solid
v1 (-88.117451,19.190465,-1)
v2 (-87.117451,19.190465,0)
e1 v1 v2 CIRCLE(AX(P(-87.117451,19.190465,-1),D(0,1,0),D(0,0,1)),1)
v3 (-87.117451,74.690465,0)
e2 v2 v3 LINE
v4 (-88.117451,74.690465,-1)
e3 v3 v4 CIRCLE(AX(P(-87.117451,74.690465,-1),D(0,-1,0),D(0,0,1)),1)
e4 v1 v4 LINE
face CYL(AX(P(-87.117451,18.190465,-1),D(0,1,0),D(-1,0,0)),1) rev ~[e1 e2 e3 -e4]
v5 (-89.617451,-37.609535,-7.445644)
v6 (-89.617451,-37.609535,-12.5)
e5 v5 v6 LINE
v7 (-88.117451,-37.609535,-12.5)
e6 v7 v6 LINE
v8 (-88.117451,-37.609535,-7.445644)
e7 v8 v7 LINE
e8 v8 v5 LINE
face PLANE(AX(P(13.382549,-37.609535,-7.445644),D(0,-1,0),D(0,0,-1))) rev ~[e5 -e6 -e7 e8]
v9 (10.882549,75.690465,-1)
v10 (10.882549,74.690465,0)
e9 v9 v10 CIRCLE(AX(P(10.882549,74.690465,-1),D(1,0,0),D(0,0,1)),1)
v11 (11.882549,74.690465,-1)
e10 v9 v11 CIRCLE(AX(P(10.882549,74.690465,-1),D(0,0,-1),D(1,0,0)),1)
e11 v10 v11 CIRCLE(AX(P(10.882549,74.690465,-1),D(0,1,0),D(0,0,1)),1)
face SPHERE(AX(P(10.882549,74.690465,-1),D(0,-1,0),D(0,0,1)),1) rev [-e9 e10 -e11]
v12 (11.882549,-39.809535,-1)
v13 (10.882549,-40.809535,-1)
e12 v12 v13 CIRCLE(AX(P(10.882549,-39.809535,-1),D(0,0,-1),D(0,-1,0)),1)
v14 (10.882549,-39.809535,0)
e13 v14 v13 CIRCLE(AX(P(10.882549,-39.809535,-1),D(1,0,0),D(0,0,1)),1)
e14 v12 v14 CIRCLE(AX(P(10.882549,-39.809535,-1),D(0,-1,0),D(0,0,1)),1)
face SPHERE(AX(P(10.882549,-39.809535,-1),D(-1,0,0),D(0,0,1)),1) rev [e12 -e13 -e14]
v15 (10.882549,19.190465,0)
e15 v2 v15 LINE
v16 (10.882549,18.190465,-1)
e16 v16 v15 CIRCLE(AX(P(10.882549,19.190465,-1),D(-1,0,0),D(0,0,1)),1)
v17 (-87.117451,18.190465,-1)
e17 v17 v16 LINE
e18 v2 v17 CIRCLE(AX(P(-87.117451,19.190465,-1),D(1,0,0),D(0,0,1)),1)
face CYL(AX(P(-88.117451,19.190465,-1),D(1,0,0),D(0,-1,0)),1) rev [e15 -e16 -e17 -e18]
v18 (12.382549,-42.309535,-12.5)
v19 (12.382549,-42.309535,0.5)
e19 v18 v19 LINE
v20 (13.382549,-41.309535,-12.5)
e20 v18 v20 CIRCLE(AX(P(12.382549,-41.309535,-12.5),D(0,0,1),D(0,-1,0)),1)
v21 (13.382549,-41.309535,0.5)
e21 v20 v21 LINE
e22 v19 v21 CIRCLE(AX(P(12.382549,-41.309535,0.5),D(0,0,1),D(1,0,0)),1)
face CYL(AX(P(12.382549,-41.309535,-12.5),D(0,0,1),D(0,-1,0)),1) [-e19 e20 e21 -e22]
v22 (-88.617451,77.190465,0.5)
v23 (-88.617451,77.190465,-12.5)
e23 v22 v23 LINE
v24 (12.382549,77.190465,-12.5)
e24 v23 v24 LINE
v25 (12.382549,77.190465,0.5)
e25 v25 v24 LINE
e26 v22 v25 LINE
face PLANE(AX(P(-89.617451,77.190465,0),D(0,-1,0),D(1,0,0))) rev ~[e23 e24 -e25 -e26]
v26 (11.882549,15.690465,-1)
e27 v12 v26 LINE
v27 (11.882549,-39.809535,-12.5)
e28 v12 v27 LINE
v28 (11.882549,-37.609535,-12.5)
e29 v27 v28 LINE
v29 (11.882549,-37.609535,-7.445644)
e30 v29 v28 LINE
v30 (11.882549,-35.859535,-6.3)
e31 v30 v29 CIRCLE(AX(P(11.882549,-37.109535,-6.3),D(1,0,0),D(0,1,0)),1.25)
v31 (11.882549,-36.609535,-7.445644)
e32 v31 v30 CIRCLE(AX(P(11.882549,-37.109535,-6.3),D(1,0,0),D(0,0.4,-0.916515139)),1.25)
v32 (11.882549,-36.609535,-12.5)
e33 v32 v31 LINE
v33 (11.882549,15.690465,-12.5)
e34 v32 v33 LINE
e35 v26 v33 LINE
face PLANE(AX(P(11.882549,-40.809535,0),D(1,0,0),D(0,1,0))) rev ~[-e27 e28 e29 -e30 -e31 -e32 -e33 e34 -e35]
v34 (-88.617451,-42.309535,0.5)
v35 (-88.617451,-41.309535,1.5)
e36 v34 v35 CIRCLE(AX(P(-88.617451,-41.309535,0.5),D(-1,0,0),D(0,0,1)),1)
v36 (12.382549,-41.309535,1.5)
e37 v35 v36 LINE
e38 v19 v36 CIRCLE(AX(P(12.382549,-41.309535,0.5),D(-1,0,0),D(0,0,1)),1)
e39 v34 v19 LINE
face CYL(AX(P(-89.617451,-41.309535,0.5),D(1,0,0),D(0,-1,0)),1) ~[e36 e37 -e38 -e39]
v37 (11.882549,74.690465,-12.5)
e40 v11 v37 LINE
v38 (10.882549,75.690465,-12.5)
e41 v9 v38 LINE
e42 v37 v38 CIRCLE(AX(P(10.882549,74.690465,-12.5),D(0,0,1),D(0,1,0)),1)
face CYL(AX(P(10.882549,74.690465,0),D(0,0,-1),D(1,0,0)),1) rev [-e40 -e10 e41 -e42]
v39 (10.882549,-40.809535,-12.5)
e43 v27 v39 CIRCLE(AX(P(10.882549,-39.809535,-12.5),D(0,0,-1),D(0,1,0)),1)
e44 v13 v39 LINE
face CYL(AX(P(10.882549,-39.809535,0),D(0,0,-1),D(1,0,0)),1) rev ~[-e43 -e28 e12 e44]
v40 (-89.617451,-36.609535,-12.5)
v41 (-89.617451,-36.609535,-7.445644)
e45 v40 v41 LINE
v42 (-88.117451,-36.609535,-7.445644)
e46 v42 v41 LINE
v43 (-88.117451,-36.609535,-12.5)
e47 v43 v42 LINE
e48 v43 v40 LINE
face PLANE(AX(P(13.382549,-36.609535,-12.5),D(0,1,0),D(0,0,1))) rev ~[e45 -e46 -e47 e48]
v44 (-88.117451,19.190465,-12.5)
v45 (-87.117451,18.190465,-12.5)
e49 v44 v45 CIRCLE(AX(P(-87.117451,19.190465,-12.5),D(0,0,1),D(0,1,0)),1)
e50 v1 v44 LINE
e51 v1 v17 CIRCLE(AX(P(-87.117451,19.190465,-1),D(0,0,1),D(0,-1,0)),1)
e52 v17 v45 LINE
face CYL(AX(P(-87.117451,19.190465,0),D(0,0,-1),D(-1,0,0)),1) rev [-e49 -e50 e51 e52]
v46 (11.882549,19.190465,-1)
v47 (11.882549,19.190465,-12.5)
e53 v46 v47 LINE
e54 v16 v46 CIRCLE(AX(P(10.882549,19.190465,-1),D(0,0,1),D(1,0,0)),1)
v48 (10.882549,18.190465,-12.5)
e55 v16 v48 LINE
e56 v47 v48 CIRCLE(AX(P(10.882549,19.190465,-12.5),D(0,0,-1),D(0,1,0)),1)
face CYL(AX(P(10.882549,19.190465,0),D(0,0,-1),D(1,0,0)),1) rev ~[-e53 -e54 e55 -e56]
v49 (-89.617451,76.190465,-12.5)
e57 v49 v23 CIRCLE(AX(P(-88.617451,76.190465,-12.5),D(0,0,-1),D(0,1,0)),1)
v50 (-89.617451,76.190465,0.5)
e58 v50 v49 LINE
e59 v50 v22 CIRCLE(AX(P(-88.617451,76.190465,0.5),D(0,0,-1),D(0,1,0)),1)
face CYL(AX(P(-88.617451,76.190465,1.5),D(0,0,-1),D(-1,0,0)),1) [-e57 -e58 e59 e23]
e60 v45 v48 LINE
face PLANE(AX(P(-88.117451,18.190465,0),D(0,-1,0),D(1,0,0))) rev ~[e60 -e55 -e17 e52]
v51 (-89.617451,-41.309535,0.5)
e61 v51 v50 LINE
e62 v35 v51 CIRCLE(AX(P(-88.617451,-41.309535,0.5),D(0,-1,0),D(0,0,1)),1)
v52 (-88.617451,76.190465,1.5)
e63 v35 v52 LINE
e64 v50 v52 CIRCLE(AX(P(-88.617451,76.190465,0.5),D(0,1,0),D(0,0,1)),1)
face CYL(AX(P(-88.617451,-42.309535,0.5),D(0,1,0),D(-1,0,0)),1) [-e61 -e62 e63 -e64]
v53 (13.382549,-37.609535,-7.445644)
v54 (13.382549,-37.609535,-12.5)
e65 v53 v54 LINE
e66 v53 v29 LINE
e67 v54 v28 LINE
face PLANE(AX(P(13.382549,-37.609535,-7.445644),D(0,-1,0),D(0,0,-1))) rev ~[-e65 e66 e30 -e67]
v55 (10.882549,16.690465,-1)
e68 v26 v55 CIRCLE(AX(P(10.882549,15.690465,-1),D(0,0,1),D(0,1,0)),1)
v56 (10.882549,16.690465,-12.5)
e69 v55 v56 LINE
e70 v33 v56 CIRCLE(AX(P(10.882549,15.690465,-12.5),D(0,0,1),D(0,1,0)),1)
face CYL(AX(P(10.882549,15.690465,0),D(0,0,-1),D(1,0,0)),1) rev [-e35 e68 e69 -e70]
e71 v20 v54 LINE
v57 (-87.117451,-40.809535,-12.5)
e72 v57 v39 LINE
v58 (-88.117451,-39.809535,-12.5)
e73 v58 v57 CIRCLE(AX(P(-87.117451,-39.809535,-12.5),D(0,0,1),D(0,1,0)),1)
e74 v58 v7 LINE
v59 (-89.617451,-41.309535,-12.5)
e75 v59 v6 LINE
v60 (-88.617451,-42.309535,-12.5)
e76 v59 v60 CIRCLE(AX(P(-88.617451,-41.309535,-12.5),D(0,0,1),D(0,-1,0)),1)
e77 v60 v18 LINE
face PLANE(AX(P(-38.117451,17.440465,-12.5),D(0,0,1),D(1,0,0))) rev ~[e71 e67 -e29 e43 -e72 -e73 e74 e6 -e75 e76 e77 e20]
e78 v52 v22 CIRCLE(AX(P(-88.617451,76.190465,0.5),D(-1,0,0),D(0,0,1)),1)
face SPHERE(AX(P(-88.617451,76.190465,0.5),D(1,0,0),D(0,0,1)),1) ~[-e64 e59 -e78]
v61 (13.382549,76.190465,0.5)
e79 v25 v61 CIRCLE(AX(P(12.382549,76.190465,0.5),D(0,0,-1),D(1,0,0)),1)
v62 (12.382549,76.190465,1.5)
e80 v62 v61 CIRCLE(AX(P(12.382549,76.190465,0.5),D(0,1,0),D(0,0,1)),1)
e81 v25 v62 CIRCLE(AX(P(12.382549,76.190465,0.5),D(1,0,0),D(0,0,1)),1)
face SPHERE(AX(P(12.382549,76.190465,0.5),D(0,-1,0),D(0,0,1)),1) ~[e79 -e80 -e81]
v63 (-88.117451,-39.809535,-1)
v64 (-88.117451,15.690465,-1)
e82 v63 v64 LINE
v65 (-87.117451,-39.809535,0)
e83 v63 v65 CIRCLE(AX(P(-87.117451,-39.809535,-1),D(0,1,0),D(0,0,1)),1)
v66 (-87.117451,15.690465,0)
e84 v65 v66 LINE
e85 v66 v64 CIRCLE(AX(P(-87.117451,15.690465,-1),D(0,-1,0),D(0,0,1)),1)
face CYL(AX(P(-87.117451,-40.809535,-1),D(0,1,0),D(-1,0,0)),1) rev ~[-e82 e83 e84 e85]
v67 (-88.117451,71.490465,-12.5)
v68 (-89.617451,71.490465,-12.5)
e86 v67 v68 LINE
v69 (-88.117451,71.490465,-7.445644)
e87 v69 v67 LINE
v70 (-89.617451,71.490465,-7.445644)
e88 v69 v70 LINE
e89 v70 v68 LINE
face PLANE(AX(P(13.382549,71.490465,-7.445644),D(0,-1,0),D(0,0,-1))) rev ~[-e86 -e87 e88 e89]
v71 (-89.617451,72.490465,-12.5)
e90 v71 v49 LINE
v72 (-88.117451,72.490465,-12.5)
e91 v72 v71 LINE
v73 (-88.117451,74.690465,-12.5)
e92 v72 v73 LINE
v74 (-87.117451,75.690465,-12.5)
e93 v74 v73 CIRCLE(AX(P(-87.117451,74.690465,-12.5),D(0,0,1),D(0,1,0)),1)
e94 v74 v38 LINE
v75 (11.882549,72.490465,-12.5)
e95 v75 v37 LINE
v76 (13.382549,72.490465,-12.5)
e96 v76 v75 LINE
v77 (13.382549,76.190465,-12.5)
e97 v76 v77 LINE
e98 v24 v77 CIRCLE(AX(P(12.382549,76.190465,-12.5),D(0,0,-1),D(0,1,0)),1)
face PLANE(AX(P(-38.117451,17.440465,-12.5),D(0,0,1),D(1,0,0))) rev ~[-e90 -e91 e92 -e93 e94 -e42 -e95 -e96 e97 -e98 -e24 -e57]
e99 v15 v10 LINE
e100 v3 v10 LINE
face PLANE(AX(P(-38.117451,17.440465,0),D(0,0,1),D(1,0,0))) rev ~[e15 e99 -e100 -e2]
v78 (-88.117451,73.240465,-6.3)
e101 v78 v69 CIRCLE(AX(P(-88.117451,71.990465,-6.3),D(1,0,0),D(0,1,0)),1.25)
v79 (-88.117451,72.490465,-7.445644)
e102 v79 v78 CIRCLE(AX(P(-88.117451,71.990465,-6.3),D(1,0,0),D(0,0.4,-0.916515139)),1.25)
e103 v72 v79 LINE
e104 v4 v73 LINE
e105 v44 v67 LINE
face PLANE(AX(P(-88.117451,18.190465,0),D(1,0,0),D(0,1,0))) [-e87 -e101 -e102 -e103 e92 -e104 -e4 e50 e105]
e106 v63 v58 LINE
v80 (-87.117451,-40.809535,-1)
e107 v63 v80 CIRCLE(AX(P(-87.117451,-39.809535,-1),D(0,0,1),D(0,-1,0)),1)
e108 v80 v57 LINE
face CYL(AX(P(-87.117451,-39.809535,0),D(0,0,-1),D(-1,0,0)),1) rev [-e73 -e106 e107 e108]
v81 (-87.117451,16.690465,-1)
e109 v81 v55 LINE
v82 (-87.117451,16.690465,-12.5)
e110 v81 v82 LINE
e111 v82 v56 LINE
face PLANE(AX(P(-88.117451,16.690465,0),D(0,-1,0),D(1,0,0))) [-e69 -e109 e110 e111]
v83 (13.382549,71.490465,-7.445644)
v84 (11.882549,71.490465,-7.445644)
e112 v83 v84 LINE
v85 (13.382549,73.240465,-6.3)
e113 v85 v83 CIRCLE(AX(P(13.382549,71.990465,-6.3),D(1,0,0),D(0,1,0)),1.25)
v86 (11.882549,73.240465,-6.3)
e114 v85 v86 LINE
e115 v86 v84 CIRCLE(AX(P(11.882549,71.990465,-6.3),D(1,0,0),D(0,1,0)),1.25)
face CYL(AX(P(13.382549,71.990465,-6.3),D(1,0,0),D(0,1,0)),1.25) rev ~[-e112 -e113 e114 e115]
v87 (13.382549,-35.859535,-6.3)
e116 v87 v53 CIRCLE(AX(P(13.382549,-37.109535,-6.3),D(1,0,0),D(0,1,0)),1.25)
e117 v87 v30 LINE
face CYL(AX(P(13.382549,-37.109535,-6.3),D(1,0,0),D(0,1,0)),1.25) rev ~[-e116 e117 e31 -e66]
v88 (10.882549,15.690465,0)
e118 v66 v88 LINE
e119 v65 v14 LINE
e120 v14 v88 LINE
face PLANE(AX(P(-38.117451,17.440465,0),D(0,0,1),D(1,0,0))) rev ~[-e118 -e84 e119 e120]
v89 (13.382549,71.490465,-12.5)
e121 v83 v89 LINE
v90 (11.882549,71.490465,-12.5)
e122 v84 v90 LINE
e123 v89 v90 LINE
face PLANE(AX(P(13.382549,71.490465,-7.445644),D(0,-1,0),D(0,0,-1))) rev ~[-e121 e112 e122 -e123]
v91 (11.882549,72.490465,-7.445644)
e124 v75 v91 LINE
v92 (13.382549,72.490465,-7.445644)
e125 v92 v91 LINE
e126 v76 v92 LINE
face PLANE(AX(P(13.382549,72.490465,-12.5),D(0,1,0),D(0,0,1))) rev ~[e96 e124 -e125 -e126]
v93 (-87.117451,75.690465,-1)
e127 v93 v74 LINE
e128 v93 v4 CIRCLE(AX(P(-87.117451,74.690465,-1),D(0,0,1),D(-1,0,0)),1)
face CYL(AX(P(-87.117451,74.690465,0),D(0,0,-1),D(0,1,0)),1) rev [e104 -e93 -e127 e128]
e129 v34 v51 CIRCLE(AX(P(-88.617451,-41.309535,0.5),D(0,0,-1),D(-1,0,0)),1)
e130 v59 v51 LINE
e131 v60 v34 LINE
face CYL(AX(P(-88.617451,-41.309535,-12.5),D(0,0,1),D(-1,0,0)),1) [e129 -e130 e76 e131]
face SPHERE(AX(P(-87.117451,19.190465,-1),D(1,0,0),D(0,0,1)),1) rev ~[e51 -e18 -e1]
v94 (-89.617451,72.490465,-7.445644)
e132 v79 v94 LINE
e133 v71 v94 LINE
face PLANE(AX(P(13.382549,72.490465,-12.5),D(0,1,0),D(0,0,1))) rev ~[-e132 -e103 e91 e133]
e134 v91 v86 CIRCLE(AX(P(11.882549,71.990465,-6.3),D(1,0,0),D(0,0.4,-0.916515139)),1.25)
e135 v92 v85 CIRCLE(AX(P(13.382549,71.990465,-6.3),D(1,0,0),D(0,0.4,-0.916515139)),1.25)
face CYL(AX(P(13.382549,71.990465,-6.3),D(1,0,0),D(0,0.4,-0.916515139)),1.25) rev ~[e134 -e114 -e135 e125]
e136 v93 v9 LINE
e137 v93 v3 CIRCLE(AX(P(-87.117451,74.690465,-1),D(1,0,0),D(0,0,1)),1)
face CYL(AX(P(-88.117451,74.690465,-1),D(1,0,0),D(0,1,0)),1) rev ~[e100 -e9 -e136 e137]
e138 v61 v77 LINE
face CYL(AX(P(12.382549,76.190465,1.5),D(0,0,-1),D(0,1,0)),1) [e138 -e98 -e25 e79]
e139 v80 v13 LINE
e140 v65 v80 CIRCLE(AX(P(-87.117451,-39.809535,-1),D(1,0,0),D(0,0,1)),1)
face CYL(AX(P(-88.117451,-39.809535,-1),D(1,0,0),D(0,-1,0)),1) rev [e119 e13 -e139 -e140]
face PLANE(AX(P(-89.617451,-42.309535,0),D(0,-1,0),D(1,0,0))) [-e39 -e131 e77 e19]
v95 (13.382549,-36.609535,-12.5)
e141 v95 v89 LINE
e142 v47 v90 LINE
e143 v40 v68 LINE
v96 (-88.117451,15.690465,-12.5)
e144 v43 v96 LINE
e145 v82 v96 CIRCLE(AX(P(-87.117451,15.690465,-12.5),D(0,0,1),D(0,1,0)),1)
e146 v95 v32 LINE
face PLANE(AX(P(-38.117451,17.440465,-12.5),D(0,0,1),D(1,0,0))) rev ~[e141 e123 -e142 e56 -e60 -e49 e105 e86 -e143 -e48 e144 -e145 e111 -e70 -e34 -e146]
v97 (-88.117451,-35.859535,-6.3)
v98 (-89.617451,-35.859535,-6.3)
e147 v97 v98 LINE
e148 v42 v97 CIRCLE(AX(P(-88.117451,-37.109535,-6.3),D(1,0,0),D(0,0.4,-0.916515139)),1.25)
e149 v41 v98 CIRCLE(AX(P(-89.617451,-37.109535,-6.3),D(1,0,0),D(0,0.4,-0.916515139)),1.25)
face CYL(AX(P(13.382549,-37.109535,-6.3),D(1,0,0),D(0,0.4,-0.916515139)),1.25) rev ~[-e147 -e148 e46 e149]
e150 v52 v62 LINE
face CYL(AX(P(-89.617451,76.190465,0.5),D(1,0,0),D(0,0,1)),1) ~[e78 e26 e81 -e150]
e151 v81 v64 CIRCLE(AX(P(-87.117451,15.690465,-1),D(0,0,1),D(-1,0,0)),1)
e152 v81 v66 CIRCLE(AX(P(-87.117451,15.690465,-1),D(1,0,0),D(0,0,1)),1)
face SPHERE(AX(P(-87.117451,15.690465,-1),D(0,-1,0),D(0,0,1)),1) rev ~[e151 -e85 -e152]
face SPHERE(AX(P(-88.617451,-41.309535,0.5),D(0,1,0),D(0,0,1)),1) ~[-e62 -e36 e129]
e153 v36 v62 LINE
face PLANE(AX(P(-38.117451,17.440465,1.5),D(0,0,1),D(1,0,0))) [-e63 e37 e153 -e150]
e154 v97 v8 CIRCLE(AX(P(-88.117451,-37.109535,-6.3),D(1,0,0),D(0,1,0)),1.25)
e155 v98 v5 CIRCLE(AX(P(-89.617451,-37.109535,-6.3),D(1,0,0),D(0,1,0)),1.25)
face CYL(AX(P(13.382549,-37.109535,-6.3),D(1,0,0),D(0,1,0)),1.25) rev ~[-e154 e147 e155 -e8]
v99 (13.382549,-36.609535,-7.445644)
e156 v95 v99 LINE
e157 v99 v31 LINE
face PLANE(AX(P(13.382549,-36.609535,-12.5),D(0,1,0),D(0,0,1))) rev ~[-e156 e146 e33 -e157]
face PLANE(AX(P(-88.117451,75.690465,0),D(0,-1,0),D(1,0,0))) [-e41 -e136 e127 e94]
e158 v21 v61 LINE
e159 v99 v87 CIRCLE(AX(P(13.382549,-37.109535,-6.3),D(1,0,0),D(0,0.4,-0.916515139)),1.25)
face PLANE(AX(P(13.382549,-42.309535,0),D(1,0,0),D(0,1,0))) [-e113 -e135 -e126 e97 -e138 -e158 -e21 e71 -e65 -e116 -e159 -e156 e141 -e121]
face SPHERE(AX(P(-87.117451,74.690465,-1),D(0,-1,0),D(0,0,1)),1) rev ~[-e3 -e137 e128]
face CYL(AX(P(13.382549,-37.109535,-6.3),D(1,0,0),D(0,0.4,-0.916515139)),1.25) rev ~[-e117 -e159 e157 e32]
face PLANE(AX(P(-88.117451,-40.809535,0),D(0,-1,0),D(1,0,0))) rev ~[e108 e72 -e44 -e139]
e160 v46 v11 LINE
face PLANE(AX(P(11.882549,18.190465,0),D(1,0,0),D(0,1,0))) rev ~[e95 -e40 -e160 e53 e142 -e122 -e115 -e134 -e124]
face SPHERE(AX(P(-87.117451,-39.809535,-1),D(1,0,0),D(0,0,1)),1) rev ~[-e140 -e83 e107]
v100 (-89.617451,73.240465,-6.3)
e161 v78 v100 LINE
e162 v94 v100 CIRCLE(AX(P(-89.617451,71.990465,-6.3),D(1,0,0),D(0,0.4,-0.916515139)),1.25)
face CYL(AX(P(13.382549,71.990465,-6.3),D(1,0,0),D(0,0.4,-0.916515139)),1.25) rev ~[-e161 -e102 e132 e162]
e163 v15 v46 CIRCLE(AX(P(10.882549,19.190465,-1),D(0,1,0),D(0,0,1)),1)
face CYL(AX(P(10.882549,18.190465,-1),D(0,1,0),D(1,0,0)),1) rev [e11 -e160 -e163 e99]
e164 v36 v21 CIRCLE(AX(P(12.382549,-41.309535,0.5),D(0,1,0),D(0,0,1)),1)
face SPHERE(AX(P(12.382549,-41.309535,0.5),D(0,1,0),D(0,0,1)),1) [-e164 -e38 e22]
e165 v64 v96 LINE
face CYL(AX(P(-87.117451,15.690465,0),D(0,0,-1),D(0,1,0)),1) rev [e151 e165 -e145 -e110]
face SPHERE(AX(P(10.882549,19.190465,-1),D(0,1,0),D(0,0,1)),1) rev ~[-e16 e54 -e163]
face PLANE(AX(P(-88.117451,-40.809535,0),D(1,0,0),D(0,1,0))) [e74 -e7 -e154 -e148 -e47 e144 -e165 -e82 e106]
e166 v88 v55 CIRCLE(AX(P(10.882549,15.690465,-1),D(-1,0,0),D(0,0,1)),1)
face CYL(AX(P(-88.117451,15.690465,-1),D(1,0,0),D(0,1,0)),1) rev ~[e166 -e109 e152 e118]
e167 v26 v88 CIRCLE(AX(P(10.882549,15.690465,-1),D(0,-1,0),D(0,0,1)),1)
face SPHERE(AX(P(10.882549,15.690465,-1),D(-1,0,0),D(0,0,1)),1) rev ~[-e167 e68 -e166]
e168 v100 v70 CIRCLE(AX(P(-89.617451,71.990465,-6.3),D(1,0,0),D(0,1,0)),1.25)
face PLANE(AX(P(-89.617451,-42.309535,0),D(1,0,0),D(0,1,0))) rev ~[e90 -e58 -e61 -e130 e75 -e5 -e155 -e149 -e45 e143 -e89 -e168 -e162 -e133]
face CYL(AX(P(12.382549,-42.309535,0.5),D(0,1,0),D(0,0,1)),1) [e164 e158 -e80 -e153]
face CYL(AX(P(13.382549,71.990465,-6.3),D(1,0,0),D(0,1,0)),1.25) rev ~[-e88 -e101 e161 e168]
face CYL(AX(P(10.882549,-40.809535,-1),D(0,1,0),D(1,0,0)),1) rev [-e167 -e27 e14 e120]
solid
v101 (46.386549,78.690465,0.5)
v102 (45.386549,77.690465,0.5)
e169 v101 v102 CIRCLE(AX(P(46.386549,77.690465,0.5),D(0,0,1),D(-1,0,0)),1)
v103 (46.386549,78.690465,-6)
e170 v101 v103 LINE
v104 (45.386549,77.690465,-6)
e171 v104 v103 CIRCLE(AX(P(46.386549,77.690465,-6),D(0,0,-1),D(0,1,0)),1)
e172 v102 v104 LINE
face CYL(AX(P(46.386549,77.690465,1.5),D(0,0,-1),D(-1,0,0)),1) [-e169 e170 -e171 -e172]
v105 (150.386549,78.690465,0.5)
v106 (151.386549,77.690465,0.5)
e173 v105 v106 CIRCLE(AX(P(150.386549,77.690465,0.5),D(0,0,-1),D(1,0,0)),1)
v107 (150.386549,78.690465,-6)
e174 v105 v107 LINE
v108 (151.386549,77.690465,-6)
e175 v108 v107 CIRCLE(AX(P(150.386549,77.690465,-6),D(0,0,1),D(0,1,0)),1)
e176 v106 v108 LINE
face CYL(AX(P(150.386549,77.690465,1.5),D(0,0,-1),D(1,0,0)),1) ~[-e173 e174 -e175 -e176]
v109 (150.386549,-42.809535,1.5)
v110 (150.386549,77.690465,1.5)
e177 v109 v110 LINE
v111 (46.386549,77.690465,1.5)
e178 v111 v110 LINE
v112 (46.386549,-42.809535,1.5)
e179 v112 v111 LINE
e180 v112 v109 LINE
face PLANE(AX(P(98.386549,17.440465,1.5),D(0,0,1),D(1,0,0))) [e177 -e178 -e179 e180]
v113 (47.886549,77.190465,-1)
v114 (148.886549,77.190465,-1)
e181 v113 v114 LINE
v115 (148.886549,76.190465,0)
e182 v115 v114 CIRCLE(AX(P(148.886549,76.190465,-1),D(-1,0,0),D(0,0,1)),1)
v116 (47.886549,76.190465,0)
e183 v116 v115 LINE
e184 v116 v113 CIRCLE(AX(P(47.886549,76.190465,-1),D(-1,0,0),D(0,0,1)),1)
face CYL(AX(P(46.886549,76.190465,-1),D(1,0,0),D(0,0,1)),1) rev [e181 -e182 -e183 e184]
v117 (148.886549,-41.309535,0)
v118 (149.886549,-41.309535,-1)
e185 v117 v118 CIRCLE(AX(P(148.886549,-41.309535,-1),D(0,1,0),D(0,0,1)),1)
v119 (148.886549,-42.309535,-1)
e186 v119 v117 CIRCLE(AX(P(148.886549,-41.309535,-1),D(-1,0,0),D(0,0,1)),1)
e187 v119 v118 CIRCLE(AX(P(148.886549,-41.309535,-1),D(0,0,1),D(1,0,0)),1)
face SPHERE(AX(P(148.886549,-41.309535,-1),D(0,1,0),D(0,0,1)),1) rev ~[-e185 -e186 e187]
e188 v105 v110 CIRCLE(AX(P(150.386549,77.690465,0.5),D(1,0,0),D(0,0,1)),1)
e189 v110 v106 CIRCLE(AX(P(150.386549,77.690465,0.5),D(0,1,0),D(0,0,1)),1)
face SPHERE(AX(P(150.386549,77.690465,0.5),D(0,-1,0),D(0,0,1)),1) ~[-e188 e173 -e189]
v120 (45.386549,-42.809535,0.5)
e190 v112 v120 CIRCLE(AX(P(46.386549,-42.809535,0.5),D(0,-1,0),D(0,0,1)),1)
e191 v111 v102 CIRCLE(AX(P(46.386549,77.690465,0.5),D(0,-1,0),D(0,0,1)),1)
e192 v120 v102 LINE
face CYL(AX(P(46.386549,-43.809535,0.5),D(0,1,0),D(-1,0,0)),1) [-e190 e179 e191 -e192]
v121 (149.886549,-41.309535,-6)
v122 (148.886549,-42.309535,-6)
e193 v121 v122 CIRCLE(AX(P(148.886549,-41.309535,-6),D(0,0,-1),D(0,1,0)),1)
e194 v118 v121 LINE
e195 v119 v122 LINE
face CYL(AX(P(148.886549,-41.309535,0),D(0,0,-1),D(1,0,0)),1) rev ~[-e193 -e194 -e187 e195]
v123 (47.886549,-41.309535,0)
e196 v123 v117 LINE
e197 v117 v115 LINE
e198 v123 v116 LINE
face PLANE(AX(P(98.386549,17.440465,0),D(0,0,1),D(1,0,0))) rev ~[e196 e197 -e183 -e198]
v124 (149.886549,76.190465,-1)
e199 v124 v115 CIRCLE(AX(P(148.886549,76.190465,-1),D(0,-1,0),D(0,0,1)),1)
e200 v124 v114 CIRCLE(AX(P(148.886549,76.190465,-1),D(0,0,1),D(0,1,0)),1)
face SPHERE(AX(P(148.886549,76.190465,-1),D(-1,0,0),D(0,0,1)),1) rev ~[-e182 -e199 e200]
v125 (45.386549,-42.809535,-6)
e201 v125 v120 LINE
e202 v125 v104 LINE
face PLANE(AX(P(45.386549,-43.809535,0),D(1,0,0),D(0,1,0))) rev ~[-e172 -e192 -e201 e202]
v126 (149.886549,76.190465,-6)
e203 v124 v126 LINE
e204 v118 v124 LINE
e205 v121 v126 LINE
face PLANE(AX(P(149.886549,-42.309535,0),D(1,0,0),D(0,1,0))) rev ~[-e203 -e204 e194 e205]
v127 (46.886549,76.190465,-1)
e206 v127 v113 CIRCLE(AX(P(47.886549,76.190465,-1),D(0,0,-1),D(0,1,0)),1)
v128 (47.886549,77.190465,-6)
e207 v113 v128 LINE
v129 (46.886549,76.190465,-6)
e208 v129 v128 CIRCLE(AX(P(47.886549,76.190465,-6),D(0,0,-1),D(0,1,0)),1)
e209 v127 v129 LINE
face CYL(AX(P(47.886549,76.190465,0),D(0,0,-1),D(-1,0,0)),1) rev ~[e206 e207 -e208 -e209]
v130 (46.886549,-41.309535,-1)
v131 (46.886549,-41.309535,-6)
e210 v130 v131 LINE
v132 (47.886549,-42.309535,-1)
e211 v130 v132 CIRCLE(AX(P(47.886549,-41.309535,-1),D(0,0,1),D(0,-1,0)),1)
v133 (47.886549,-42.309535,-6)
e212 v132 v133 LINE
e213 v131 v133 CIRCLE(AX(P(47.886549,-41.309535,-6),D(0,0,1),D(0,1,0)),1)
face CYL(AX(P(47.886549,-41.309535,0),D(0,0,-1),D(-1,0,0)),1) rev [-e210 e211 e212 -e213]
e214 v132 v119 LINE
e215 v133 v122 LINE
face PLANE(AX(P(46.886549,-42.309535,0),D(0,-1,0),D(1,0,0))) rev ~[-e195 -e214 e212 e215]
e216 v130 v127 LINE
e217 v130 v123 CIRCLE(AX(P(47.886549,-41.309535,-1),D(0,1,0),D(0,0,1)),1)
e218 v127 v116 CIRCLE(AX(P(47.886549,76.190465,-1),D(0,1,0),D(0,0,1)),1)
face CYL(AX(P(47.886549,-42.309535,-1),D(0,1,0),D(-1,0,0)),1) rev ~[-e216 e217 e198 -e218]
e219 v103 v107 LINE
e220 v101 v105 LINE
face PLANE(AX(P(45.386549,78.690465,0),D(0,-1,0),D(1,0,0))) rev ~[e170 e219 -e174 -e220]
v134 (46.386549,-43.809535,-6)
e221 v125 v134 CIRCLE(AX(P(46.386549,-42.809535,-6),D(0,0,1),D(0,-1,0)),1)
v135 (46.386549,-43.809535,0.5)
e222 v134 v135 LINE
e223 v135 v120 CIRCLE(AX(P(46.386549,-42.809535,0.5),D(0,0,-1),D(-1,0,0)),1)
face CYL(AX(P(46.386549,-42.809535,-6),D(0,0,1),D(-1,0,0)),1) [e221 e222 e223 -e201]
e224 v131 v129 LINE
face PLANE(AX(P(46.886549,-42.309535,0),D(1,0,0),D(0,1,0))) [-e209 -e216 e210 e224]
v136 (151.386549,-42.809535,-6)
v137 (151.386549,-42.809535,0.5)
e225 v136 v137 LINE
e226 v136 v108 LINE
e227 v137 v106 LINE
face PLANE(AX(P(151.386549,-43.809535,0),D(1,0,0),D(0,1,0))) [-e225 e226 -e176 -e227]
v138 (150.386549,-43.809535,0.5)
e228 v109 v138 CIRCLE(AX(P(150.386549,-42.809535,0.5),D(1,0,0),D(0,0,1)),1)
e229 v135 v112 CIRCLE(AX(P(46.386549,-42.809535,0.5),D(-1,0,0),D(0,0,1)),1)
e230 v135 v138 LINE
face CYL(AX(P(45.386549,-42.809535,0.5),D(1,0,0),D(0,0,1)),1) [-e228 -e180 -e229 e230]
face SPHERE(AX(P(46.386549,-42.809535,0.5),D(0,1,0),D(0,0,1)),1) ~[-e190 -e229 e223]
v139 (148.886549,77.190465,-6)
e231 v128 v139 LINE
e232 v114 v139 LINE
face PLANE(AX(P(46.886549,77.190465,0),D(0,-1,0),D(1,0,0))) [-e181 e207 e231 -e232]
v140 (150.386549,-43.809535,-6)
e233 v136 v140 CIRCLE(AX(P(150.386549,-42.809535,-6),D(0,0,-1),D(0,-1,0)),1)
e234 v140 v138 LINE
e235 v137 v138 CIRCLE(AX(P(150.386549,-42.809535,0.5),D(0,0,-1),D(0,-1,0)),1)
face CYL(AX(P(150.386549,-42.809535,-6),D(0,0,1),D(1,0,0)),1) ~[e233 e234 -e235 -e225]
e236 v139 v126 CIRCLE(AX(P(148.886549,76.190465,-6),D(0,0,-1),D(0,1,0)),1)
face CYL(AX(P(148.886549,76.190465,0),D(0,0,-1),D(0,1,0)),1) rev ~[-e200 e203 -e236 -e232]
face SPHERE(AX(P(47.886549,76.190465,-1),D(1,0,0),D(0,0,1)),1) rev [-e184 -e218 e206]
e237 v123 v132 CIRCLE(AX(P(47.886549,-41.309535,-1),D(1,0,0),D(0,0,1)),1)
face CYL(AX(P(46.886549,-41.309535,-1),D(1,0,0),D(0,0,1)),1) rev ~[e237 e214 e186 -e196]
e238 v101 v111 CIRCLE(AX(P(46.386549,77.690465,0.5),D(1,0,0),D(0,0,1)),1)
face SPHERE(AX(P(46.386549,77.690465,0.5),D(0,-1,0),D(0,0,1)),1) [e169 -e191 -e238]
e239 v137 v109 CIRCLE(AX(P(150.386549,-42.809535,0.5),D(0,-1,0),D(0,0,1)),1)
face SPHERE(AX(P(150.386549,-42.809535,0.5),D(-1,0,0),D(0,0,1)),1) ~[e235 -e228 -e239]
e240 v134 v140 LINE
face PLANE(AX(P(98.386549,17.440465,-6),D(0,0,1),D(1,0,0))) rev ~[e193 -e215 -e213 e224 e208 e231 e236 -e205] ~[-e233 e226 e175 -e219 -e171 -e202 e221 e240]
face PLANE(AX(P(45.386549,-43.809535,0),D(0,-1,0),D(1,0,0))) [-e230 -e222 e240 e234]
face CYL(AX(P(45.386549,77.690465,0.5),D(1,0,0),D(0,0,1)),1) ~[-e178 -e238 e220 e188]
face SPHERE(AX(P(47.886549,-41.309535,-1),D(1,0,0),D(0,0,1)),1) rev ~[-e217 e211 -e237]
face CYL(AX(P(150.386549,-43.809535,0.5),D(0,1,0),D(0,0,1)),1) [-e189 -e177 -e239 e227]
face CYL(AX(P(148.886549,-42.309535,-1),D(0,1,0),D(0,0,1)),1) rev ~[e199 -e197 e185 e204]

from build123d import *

# Parameters (mm, degrees)
F0_W     = 103
F0_H     = 119.5
F0_W_2   = 100
F0_H_2   = 57.5
F1_DEPTH = 1.5
F0_W_3   = 106
F0_H_3   = 122.5
F2_DEPTH = 12.5
F4_DEPTH = 6
F5_DEPTH = 103.001
F6_R     = 1
F6_2_R   = 1


with BuildPart() as f1:
    # F0 (on Top) → F1 (new body)
    with BuildSketch(Plane.XY):
        with Locations((-38.117450853, 17.4404647723)):
            Rectangle(F0_W, F0_H)
        with Locations((-38.117450853, -12.0595352277)):
            Rectangle(F0_W_2, F0_H_2, mode=Mode.SUBTRACT)
        with Locations((-38.117450853, 46.9404647723)):
            Rectangle(F0_W_2, F0_H_2, mode=Mode.SUBTRACT)
        with Locations((-38.117450853, 46.9404647723)):
            Rectangle(F0_W_2, F0_H_2)
        with Locations((-38.117450853, -12.0595352277)):
            Rectangle(F0_W_2, F0_H_2)
    extrude(amount=F1_DEPTH)

    # F0 (on Top) → F2 (join)
    with BuildSketch(Plane.XY):
        with Locations((-38.117450853, 17.4404647723)):
            Rectangle(F0_W, F0_H)
        with Locations((-38.117450853, -12.0595352277)):
            Rectangle(F0_W_2, F0_H_2, mode=Mode.SUBTRACT)
        with Locations((-38.117450853, 46.9404647723)):
            Rectangle(F0_W_2, F0_H_2, mode=Mode.SUBTRACT)
    extrude(amount=-F2_DEPTH)

    # F3 (on face) → F5 (cut, through all)
    with BuildSketch(Plane.YZ.offset(13.382549147)):
        with BuildLine():
            ThreePointArc((-36.6095352277, -7.4456439237), (-36.0637101945, -6.9846531969), (-35.8595352277, -6.3))
            ThreePointArc((-35.8595352277, -6.3), (-37.7941884246, -5.2541749668), (-37.6095352277, -7.4456439237))
            Line((-37.6095352277, -7.4456439237), (-37.6095352277, -6.3))
            Line((-37.6095352277, -6.3), (-36.6095352277, -6.3))
            Line((-36.6095352277, -6.3), (-36.6095352277, -7.4456439237))
        make_face()
        with BuildLine():
            Line((-37.6095352277, -6.3), (-37.6095352277, -7.4456439237))
            ThreePointArc((-37.6095352277, -7.4456439237), (-37.1095352277, -7.55), (-36.6095352277, -7.4456439237))
            Line((-36.6095352277, -7.4456439237), (-36.6095352277, -6.3))
            Line((-36.6095352277, -6.3), (-37.6095352277, -6.3))
        make_face()
        with BuildLine():
            ThreePointArc((-36.6095352277, -7.4456439237), (-37.1095352277, -7.55), (-37.6095352277, -7.4456439237))
            Line((-37.6095352277, -7.4456439237), (-37.6095352277, -12.5))
            Line((-37.6095352277, -12.5), (-36.6095352277, -12.5))
            Line((-36.6095352277, -12.5), (-36.6095352277, -7.4456439237))
        make_face()
        with BuildLine():
            Line((71.4904647723, -6.3), (71.4904647723, -7.4456439237))
            ThreePointArc((71.4904647723, -7.4456439237), (71.9904647723, -7.55), (72.4904647723, -7.4456439237))
            Line((72.4904647723, -7.4456439237), (72.4904647723, -6.3))
            Line((72.4904647723, -6.3), (71.4904647723, -6.3))
        make_face()
        with BuildLine():
            ThreePointArc((73.2404647723, -6.3), (71.3058115754, -5.2541749668), (71.4904647723, -7.4456439237))
            Line((71.4904647723, -7.4456439237), (71.4904647723, -6.3))
            Line((71.4904647723, -6.3), (72.4904647723, -6.3))
            Line((72.4904647723, -6.3), (72.4904647723, -7.4456439237))
            ThreePointArc((72.4904647723, -7.4456439237), (73.0362898055, -6.9846531969), (73.2404647723, -6.3))
        make_face()
        with BuildLine():
            Line((71.4904647723, -7.4456439237), (71.4904647723, -12.5))
            Line((71.4904647723, -12.5), (72.4904647723, -12.5))
            Line((72.4904647723, -12.5), (72.4904647723, -7.4456439237))
            ThreePointArc((72.4904647723, -7.4456439237), (71.9904647723, -7.55), (71.4904647723, -7.4456439237))
        make_face()
    extrude(amount=-F5_DEPTH, mode=Mode.SUBTRACT)

    # F6
    f6_edges = [f1.edges().sort_by_distance(p)[0] for p in [
        (13.382549, 17.440465, 1.5),
        (-38.117451, 77.190465, 1.5),
        (-89.617451, 17.440465, 1.5),
        (-38.117451, -42.309535, 1.5),
        (13.382549, 77.190465, -5.5),
        (-89.617451, 77.190465, -5.5),
        (13.382549, -42.309535, -5.5),
        (-89.617451, -42.309535, -5.5),
        (-38.117451, -40.809535, 0),
        (-88.117451, -12.059535, 0),
        (-38.117451, 16.690465, 0),
        (11.882549, -12.059535, 0),
        (11.882549, 46.940465, 0),
        (-38.117451, 18.190465, 0),
        (-88.117451, 46.940465, 0),
        (-38.117451, 75.690465, 0),
        (11.882549, 16.690465, -6.25),
        (11.882549, 18.190465, -6.25),
        (-88.117451, -40.809535, -6.25),
        (-88.117451, 18.190465, -6.25),
        (-88.117451, 16.690465, -6.25),
        (-88.117451, 75.690465, -6.25),
        (11.882549, 75.690465, -6.25),
        (11.882549, -40.809535, -6.25),
    ]]
    fillet(f6_edges, radius=F6_R)


with BuildPart() as f1b:
    # F0 (on Top) → F1, piece 2 (new body)
    with BuildSketch(Plane.XY):
        with Locations((98.3865490854, 17.4404647723)):
            Rectangle(F0_W_3, F0_H_3)
        with Locations((98.3865490854, 17.4404647723)):
            Rectangle(F0_W, F0_H, mode=Mode.SUBTRACT)
        with Locations((98.3865490854, 17.4404647723)):
            Rectangle(F0_W, F0_H)
    extrude(amount=F1_DEPTH)

    # F0 (on Top) → F4 (join)
    with BuildSketch(Plane.XY):
        with Locations((98.3865490854, 17.4404647723)):
            Rectangle(F0_W_3, F0_H_3)
        with Locations((98.3865490854, 17.4404647723)):
            Rectangle(F0_W, F0_H, mode=Mode.SUBTRACT)
    extrude(amount=-F4_DEPTH)

    # F6#2
    f6_2_edges = [f1b.edges().sort_by_distance(p)[0] for p in [
        (98.386549, 77.190465, 0),
        (149.886549, 17.440465, 0),
        (98.386549, -42.309535, 0),
        (46.886549, 17.440465, 0),
        (45.386549, 17.440465, 1.5),
        (98.386549, -43.809535, 1.5),
        (151.386549, 17.440465, 1.5),
        (98.386549, 78.690465, 1.5),
        (151.386549, 78.690465, -2.25),
        (45.386549, 78.690465, -2.25),
        (151.386549, -43.809535, -2.25),
        (45.386549, -43.809535, -2.25),
        (46.886549, -42.309535, -3),
        (46.886549, 77.190465, -3),
        (149.886549, 77.190465, -3),
        (149.886549, -42.309535, -3),
    ]]
    fillet(f6_2_edges, radius=F6_2_R)


solid = Compound([f1.part, f1b.part])
